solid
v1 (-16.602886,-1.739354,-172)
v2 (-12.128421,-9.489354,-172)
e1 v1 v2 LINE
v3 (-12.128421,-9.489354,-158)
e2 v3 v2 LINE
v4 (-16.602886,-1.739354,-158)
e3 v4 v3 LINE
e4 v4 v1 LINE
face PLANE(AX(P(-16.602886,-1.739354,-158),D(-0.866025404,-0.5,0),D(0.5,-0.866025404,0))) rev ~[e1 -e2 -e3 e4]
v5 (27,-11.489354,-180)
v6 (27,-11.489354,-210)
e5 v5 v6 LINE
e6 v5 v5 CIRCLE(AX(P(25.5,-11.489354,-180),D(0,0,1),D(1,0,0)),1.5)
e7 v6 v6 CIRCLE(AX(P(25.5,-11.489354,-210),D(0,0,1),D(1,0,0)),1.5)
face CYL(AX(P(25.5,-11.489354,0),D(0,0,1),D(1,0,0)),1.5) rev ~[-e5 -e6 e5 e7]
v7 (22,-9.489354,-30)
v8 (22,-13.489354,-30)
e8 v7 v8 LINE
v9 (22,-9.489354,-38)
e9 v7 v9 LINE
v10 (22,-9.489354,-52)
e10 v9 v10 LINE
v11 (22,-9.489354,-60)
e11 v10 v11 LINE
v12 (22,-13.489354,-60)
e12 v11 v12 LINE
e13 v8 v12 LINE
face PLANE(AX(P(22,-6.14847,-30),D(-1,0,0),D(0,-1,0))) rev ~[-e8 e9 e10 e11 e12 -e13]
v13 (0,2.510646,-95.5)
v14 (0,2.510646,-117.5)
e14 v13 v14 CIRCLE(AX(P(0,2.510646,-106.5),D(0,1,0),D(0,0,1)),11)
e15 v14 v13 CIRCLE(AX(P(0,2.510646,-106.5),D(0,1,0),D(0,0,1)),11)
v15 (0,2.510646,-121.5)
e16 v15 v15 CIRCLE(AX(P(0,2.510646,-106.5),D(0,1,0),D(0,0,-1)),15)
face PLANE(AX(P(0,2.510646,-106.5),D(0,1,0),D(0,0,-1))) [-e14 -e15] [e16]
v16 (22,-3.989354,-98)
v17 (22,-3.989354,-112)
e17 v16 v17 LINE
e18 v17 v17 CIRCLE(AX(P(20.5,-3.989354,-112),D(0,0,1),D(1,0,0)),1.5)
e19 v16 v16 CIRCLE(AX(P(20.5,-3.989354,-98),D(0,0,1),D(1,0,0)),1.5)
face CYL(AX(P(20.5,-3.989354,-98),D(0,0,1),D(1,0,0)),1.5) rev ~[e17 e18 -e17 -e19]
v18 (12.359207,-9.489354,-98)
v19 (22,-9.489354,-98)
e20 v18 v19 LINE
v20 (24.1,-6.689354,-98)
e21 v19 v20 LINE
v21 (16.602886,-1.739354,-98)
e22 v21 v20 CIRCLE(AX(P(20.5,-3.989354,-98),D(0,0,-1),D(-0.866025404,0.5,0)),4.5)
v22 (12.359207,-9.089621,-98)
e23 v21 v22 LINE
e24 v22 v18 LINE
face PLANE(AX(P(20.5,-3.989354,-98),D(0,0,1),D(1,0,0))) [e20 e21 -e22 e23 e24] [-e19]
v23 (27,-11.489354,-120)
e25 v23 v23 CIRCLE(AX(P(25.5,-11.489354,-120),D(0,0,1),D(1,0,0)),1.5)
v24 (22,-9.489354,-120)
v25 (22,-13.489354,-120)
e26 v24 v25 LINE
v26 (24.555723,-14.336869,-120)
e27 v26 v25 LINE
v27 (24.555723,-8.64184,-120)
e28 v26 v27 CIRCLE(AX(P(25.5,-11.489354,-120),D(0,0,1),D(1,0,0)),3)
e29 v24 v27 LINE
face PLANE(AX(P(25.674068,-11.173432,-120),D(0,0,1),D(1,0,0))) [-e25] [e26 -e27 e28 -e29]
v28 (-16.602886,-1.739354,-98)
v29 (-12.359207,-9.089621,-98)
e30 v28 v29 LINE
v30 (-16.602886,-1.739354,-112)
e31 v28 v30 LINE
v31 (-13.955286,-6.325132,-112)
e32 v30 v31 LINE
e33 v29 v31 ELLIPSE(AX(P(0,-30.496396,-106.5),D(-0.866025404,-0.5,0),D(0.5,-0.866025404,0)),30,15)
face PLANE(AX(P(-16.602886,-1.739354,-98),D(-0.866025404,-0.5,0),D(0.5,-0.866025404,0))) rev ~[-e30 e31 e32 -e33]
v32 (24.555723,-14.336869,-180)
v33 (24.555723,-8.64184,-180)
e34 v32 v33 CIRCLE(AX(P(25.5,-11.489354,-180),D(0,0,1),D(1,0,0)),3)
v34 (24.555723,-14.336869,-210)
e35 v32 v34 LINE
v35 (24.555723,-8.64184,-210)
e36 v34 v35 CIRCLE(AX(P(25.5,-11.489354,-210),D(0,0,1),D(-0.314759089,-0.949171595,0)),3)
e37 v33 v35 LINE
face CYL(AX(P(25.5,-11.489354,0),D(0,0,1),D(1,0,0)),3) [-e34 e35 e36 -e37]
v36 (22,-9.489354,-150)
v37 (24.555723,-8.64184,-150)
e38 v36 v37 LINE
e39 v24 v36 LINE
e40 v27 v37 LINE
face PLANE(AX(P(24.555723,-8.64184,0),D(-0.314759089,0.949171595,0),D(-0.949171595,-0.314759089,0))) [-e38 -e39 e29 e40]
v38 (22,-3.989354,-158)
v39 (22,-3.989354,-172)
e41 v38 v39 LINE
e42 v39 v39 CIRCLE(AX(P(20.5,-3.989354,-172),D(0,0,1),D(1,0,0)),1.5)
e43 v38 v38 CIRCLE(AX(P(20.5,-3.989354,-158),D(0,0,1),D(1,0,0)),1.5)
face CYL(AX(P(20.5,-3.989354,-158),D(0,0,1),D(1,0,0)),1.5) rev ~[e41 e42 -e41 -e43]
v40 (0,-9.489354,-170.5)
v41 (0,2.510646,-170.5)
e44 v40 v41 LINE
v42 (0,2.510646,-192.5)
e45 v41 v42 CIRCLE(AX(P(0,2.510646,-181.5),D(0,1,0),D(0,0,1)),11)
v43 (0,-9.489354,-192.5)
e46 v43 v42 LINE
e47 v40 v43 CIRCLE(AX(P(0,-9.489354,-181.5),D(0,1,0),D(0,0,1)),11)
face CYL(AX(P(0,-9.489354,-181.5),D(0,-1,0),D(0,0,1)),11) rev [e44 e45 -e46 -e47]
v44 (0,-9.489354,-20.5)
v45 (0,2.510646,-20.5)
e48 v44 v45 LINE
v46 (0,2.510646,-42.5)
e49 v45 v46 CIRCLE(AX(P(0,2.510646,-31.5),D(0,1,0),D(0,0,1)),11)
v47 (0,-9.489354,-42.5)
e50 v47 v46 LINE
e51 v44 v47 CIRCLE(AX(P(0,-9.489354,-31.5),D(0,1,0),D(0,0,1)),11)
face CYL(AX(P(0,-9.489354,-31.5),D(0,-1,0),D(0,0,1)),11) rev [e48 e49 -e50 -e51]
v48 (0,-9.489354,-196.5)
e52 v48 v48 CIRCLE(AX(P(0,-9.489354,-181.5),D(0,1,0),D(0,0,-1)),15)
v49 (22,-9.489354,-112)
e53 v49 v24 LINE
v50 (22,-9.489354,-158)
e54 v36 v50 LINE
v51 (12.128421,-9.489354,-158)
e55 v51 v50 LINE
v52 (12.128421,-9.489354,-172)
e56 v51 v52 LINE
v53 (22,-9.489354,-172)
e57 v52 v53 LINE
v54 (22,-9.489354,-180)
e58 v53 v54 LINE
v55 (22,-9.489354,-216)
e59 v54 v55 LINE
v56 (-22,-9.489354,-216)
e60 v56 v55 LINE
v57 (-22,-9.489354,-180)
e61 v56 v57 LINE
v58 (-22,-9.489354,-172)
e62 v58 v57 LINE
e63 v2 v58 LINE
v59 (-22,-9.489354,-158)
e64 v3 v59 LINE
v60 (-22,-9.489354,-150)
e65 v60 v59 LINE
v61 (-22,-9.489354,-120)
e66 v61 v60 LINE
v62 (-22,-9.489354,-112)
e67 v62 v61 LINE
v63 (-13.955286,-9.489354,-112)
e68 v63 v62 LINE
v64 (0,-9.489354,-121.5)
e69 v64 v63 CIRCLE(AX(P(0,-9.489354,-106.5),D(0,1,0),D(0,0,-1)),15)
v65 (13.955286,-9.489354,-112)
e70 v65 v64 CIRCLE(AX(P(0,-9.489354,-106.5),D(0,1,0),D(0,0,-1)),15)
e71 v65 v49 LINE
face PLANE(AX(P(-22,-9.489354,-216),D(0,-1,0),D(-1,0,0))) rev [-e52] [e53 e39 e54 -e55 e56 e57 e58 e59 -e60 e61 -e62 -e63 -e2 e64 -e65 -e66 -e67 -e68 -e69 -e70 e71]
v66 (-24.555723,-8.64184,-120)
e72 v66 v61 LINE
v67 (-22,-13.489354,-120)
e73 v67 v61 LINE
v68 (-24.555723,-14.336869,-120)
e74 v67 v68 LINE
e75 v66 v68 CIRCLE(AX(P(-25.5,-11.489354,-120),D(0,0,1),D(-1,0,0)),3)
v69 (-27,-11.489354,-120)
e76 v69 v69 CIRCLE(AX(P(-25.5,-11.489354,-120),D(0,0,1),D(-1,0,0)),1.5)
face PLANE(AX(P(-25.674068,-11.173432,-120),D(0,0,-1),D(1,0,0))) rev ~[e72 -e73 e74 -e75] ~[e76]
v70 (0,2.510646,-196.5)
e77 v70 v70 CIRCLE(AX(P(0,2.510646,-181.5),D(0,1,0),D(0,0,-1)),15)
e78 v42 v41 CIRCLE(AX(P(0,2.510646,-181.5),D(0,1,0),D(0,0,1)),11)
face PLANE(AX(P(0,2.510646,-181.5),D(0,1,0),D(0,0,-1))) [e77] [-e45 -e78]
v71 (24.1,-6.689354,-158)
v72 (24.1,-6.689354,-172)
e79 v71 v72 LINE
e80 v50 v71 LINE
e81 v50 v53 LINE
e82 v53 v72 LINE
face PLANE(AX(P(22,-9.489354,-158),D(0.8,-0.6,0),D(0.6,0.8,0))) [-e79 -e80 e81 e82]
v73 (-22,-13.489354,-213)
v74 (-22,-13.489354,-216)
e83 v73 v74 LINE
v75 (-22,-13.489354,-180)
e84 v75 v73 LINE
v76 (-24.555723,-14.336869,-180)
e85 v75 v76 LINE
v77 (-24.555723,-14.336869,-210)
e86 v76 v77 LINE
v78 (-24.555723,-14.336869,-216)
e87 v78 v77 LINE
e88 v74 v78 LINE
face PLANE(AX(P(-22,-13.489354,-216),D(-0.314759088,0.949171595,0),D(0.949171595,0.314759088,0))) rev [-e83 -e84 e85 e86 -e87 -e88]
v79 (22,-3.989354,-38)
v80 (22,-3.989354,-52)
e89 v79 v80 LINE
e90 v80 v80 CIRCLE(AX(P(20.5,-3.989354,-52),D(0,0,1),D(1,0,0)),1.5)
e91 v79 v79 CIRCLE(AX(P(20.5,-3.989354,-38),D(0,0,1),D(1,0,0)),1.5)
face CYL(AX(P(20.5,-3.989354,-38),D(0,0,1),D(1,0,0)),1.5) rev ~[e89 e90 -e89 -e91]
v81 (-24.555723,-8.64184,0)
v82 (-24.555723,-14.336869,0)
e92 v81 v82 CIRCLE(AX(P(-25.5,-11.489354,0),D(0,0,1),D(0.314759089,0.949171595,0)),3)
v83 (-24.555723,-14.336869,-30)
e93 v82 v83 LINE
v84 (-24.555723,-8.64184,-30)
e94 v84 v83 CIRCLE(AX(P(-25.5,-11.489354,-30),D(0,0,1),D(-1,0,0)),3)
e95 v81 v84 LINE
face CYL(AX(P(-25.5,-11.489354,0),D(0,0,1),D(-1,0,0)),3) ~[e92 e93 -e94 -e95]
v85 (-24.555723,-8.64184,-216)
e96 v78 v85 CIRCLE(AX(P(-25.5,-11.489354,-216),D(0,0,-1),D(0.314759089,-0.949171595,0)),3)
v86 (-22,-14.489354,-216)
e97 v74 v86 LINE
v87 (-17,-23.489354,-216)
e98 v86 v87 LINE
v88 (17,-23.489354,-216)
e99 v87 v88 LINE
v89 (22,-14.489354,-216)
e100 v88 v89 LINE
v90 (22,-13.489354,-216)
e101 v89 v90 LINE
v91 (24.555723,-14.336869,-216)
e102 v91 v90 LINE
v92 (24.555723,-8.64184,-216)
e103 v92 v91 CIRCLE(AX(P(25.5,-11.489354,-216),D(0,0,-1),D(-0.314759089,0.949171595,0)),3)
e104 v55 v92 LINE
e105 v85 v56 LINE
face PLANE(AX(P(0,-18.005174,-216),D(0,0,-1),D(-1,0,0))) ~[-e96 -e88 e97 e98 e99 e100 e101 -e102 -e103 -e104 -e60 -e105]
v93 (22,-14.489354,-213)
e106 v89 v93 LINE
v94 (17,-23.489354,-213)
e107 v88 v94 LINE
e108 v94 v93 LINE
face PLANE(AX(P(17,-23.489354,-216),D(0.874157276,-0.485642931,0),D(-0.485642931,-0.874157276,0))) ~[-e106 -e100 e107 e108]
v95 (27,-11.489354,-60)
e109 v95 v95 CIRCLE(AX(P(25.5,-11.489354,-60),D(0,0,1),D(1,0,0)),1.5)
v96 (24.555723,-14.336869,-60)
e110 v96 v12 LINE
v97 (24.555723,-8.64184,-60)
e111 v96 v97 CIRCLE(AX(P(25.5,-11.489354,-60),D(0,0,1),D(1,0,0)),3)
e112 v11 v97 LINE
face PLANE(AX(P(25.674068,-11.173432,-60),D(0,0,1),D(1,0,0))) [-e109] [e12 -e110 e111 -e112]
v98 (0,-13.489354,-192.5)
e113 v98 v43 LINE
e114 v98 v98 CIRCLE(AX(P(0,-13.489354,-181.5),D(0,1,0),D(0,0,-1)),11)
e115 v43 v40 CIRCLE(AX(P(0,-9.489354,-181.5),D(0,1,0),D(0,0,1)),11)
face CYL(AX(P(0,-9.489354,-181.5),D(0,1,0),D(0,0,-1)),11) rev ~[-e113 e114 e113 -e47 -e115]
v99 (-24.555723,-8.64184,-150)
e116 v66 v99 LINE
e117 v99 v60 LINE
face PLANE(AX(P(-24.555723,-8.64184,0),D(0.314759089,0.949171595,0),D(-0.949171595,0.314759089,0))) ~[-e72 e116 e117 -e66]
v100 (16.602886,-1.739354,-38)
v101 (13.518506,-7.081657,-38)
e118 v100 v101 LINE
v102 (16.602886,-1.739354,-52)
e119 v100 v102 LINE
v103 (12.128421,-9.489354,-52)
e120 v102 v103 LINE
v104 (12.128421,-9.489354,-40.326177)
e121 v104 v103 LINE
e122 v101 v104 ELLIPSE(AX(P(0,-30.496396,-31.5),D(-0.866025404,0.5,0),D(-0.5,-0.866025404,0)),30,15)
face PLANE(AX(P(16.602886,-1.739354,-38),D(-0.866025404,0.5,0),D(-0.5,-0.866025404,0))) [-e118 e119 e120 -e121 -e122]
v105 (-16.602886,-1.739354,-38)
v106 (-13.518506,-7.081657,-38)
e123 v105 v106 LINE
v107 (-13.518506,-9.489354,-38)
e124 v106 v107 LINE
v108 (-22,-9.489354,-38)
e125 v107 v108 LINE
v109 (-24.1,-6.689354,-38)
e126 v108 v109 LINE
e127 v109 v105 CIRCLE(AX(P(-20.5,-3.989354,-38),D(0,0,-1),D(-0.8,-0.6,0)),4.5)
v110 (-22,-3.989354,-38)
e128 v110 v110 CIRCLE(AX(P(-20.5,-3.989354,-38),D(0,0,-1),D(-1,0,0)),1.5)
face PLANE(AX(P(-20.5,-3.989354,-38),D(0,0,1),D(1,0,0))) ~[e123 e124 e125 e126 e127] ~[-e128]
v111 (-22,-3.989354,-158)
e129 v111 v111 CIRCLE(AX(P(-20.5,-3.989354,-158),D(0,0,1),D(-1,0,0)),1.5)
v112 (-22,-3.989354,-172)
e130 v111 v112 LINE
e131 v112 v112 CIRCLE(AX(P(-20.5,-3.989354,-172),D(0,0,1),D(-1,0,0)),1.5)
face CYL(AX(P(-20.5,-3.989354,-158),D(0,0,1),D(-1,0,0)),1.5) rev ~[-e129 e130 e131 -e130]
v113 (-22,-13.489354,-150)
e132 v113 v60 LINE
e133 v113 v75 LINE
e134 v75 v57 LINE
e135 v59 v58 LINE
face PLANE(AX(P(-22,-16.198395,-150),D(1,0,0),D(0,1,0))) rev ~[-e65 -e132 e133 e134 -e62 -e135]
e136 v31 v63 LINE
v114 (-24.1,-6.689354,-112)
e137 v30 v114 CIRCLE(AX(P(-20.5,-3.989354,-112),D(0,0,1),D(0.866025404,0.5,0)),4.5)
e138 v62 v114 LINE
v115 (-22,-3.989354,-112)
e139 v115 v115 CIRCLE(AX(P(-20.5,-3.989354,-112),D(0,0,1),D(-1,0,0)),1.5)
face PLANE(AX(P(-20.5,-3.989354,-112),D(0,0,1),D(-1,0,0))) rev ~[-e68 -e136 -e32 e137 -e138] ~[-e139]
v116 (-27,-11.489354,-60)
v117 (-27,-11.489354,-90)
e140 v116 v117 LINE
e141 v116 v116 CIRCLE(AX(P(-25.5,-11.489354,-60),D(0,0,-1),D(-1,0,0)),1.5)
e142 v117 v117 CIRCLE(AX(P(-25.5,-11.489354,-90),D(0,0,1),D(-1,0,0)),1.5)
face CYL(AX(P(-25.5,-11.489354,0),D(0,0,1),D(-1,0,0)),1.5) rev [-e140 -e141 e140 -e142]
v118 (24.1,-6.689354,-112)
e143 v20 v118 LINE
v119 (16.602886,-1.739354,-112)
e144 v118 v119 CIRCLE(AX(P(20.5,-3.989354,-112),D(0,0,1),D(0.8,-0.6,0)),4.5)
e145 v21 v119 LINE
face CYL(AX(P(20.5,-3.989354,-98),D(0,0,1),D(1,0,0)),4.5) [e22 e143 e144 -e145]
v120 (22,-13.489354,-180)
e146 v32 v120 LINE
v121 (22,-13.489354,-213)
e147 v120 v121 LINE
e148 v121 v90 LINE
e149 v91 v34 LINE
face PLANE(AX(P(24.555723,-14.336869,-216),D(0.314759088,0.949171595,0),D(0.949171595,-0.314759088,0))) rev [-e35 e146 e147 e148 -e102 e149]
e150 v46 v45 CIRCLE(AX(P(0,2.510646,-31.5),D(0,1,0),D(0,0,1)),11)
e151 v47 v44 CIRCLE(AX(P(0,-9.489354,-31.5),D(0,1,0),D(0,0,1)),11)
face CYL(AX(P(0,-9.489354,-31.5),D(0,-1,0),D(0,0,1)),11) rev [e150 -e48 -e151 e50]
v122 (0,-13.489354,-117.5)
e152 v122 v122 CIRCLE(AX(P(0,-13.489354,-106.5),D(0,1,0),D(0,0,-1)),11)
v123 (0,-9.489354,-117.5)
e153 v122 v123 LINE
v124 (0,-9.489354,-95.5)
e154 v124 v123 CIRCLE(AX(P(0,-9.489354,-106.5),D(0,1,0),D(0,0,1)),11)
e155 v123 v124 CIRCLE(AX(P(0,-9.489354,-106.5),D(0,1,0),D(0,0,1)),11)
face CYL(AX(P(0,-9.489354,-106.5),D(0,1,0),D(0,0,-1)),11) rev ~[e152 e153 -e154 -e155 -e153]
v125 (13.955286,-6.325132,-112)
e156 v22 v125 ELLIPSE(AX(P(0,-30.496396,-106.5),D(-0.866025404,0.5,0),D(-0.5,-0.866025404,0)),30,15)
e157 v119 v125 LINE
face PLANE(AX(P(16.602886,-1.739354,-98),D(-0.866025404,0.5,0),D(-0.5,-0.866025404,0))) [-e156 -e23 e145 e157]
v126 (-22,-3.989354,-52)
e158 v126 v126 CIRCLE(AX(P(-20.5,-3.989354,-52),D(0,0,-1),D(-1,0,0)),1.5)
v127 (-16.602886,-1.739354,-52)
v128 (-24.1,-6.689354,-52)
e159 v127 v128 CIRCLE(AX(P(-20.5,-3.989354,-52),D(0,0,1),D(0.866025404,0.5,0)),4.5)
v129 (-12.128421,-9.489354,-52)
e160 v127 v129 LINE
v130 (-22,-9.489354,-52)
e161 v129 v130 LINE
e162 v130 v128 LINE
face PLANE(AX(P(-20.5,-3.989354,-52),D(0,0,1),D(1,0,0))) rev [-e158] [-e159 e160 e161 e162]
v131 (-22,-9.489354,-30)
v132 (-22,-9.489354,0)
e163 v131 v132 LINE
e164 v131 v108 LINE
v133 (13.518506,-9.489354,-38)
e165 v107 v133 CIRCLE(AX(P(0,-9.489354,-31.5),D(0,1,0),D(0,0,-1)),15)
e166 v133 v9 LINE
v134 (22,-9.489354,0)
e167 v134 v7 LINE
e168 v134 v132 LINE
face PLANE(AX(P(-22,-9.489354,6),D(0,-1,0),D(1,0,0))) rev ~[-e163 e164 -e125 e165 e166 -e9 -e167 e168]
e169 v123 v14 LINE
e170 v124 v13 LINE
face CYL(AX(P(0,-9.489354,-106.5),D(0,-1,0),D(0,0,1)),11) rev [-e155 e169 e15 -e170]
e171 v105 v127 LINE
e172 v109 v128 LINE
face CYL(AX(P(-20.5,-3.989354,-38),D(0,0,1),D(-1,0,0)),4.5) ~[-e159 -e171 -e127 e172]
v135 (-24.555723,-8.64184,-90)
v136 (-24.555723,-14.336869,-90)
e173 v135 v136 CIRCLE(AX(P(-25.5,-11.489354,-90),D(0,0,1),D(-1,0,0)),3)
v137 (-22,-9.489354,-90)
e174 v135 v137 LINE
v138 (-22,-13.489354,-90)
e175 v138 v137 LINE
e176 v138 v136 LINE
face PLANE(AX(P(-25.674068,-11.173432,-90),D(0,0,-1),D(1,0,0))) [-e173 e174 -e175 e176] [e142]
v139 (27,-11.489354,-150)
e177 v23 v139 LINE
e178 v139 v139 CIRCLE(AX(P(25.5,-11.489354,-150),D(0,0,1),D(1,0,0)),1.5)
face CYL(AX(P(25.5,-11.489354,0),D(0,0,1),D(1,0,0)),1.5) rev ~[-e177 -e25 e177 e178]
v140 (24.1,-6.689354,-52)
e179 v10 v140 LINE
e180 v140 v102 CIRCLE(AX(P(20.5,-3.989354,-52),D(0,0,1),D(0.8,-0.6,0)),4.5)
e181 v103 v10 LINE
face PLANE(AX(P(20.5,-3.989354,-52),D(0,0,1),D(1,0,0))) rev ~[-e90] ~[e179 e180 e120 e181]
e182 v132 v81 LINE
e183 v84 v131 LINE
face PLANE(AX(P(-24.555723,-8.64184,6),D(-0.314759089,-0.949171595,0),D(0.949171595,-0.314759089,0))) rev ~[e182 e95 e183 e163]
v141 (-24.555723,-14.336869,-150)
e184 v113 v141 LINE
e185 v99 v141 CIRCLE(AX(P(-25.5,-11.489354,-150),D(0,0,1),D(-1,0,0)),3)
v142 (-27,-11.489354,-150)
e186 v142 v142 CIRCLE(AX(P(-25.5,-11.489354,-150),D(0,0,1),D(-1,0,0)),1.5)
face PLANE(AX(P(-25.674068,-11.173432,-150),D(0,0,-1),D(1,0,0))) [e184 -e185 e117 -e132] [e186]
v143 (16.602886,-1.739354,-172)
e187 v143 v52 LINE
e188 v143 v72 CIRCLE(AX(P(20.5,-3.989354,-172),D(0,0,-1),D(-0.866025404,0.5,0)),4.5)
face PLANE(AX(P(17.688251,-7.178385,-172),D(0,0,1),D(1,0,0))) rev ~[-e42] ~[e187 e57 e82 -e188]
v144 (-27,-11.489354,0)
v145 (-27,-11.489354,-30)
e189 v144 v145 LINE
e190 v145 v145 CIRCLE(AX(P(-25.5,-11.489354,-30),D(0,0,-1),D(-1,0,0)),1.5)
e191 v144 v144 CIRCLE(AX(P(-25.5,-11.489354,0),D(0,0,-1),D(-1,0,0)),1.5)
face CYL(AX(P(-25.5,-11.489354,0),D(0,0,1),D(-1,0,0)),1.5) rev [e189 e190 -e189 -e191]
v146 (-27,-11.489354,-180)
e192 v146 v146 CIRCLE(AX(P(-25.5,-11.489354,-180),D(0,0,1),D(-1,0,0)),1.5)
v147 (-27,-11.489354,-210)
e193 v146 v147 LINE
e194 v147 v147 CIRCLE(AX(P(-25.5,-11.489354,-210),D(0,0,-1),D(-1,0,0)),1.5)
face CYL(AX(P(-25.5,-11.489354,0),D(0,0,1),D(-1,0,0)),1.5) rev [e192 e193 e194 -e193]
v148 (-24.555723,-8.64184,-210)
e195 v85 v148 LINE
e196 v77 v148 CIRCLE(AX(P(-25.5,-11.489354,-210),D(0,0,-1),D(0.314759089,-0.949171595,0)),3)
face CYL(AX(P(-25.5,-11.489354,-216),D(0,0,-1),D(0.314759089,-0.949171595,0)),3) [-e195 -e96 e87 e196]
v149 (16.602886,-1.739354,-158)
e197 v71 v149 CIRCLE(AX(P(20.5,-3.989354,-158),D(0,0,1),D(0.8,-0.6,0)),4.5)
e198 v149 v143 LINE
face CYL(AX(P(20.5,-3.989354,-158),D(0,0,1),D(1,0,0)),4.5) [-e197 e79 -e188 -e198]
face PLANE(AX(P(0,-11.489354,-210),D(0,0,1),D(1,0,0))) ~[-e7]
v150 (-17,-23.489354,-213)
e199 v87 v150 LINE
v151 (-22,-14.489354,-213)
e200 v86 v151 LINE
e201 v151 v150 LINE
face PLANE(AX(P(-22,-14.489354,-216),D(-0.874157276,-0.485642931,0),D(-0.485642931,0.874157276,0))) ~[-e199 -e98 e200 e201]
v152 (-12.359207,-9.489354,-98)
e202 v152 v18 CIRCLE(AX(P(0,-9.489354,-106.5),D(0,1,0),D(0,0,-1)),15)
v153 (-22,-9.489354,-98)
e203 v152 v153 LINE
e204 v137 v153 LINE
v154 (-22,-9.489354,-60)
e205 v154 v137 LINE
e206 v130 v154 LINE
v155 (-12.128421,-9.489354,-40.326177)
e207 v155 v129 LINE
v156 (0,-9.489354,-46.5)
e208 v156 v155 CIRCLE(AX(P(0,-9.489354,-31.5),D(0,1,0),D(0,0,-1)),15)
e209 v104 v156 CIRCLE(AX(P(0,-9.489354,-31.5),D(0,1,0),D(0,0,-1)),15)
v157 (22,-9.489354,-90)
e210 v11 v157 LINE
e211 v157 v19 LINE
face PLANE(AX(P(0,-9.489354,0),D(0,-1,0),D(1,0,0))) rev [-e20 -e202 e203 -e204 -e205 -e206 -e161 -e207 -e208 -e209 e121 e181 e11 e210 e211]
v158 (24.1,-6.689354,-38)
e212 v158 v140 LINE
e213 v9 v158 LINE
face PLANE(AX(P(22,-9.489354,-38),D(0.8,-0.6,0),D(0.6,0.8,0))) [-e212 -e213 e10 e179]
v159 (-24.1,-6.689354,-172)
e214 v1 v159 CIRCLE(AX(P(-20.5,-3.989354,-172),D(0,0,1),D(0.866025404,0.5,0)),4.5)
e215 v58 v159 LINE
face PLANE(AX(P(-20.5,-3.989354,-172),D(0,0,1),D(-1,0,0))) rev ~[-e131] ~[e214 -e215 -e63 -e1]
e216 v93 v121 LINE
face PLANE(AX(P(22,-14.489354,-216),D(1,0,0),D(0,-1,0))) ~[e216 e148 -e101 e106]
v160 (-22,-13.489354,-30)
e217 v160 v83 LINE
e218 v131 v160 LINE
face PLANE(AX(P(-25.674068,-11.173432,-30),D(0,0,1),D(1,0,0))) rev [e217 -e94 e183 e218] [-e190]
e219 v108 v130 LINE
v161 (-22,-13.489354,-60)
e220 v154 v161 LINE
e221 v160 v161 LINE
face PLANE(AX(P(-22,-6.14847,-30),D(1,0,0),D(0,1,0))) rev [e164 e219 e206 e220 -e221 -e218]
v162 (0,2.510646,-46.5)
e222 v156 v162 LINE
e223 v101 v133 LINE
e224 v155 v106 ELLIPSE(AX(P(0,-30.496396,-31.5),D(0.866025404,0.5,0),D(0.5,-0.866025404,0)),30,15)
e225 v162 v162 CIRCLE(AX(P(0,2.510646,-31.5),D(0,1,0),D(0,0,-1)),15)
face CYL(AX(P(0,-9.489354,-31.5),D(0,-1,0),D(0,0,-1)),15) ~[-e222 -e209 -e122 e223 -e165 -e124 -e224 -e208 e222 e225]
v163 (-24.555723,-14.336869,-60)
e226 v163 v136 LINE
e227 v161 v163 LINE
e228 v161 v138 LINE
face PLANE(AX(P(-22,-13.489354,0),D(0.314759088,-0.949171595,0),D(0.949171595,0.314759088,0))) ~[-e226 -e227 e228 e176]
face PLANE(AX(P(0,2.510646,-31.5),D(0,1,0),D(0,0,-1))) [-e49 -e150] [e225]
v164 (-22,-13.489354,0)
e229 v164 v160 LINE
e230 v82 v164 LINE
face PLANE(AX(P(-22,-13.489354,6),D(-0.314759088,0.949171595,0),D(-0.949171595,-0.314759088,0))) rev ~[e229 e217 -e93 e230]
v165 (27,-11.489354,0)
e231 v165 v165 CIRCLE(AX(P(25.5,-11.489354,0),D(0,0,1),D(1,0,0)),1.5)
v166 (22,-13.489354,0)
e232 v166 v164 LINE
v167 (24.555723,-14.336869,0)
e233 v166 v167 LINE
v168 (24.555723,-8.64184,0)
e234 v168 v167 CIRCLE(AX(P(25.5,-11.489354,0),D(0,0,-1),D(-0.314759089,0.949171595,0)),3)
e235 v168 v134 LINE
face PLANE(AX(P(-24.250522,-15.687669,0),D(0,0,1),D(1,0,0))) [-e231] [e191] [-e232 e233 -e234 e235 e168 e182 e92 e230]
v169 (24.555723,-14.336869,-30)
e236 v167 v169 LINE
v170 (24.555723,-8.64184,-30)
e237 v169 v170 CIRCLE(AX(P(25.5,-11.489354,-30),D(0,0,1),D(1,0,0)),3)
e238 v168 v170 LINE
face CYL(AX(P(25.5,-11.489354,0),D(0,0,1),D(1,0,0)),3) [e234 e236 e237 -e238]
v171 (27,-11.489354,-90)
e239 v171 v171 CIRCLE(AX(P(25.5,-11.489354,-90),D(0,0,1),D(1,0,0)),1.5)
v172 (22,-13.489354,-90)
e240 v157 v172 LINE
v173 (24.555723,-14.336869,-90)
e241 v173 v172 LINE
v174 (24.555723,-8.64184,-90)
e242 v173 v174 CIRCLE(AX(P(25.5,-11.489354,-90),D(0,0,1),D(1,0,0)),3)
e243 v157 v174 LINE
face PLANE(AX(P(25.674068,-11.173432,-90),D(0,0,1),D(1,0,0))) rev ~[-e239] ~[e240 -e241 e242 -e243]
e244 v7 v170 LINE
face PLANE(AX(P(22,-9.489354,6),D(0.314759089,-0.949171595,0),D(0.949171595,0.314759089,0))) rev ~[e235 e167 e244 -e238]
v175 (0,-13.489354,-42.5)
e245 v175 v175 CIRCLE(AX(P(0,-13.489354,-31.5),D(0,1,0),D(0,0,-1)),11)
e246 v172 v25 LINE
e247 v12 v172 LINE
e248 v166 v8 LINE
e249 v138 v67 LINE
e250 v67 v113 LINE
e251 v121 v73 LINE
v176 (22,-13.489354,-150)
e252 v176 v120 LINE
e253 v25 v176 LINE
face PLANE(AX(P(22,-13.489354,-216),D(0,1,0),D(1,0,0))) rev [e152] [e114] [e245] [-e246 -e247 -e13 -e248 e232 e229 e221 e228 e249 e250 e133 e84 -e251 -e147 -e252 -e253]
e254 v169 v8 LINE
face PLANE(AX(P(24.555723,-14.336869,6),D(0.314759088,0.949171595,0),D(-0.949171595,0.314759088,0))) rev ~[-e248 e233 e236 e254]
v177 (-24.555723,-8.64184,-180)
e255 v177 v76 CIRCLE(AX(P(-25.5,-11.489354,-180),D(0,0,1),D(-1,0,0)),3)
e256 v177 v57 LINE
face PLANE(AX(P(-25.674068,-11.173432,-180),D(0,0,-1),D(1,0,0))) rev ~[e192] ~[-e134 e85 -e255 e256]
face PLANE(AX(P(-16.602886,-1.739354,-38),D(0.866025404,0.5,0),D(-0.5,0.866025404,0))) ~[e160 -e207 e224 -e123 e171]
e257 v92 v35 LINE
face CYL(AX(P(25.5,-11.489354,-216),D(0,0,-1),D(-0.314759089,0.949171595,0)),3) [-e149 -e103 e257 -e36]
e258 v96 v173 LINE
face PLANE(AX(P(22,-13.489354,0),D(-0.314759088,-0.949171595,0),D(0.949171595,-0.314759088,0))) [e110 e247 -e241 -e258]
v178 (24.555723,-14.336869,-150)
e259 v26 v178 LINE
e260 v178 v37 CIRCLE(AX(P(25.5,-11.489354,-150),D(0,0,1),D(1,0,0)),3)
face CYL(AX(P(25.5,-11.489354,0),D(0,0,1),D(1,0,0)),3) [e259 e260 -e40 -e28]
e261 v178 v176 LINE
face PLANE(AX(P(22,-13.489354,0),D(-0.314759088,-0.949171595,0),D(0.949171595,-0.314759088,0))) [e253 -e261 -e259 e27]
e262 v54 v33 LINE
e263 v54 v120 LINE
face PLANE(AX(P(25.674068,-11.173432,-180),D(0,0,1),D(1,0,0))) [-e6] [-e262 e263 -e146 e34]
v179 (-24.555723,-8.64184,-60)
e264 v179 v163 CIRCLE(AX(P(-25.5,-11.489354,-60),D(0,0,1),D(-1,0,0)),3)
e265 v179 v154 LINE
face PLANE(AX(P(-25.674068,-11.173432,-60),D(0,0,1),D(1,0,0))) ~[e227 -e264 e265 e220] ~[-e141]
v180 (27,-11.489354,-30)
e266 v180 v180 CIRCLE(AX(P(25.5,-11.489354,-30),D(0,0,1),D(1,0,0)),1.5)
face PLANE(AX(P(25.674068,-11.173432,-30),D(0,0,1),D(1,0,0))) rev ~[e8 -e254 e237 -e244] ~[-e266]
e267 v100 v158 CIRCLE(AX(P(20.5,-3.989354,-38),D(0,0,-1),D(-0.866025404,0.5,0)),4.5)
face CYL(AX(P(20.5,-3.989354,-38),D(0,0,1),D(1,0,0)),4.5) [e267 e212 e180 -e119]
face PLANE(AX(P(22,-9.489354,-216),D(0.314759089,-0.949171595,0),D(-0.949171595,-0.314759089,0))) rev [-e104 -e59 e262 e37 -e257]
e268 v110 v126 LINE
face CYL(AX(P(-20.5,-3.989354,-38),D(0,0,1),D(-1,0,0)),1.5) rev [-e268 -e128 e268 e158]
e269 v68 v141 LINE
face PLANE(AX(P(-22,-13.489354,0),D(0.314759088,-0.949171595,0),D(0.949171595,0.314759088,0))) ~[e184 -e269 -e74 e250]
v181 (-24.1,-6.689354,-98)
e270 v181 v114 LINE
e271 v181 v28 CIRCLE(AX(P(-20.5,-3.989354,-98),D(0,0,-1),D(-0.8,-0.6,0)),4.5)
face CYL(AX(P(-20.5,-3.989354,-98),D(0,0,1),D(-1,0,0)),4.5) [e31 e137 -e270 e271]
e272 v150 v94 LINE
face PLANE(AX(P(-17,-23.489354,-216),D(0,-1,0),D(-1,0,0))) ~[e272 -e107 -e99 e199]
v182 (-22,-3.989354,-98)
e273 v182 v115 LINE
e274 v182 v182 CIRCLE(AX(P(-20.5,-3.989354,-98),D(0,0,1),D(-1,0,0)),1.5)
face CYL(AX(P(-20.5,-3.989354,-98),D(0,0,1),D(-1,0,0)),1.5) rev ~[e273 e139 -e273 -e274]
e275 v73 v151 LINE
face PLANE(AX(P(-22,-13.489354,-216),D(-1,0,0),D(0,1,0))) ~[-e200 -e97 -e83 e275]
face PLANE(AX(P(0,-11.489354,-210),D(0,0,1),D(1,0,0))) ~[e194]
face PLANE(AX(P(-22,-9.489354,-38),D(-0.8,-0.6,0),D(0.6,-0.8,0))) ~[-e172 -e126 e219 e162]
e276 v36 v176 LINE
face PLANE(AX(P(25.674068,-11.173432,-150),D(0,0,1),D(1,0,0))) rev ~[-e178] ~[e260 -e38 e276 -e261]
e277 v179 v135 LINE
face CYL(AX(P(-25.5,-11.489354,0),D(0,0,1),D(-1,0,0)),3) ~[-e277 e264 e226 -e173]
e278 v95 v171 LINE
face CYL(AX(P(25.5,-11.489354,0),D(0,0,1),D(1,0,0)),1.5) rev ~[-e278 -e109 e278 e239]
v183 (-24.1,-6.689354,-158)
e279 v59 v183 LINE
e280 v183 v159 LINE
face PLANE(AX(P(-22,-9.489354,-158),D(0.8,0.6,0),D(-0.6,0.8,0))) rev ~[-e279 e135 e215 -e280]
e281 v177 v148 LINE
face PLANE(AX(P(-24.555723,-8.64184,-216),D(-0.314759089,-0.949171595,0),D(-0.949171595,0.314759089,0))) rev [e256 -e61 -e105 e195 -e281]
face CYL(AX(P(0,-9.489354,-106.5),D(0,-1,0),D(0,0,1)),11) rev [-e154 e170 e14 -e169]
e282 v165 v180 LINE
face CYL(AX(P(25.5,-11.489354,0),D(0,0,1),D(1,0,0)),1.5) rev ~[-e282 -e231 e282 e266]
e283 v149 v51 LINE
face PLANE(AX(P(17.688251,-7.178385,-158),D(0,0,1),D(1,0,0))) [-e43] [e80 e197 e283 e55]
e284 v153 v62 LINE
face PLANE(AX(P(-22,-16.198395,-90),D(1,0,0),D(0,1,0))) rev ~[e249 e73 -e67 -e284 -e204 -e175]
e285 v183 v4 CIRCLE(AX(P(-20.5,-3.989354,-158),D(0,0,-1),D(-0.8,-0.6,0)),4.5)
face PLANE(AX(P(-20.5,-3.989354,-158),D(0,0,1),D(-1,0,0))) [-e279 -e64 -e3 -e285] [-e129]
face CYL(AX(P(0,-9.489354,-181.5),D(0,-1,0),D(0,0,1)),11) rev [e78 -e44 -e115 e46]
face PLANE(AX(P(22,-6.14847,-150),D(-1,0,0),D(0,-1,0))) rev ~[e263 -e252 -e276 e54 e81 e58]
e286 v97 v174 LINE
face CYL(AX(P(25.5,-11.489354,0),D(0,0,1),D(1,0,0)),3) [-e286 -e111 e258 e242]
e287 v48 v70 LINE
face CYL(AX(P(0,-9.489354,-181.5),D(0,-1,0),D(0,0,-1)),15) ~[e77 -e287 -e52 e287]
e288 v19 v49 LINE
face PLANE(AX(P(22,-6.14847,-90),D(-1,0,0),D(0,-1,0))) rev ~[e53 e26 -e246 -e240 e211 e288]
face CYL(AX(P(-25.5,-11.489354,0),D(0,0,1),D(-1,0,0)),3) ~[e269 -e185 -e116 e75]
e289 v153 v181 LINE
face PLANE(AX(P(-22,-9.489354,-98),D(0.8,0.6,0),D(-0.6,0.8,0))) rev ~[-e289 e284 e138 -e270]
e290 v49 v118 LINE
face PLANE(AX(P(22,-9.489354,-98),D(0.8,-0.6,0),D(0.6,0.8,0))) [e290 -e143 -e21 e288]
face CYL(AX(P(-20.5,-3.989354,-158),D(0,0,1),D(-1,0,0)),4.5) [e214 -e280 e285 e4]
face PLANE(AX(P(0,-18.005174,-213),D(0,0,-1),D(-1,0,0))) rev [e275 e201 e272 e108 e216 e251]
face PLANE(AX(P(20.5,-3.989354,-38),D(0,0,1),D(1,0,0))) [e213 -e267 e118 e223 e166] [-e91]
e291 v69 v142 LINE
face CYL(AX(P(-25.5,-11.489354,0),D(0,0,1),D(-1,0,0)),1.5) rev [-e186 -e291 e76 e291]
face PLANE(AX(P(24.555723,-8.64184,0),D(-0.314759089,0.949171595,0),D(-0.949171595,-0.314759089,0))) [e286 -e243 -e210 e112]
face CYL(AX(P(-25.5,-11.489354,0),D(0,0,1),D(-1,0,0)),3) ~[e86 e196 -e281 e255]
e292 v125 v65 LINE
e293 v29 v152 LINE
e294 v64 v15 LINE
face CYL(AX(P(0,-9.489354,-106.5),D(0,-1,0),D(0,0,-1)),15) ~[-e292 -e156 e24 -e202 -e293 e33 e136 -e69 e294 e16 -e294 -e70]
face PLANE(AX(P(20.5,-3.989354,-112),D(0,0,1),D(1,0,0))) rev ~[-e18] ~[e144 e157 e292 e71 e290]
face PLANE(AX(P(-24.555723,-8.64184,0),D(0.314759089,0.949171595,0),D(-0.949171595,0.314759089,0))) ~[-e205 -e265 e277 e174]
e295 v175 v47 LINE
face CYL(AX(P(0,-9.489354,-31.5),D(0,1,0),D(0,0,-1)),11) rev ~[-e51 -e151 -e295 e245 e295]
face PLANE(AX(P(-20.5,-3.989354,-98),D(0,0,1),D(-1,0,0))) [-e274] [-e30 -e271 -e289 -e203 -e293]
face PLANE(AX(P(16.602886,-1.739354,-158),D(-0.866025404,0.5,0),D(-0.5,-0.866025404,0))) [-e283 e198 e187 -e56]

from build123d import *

# Parameters (mm, degrees)
SKETCH1_W                 = 22
SKETCH1_H                 = 4
SKETCH1_R                 = 3
SKETCH1_R_2               = 1.5
BOSS_EXTRUDE1_DEPTH       = 210
SKETCH2_R                 = 1.5
CUT_EXTRUDE2_DEPTH        = 30
LPATTERN1_COUNT           = 3
LPATTERN1_PITCH           = 60
SKETCH5_R                 = 4.5
SKETCH5_R_2               = 1.5
BOSS_EXTRUDE2_DEPTH       = 14
LPATTERN2_COUNT           = 3
LPATTERN2_PITCH           = 60
MIRROR3_COPY_1_SKETCH_R   = 1.5
MIRROR3_COPY_1_DEPTH      = 30
MIRROR3_COPY_2_SKETCH_R   = 1.5
MIRROR3_COPY_2_DEPTH      = 30
MIRROR3_COPY_3_SKETCH_R   = 4.5
MIRROR3_COPY_3_SKETCH_R_2 = 1.5
MIRROR3_COPY_3_DEPTH      = 14
MIRROR3_COPY_4_SKETCH_R   = 4.5
MIRROR3_COPY_4_SKETCH_R_2 = 1.5
MIRROR3_COPY_4_DEPTH      = 14
SKETCH6_R                 = 15
SKETCH6_R_2               = 11
BOSS_EXTRUDE3_DEPTH       = 12
SKETCH9_R                 = 11
CUT_EXTRUDE4_DEPTH        = 40.5
LPATTERN4_COUNT           = 3
LPATTERN4_PITCH           = 75
LPATTERN5_COUNT           = 3
LPATTERN5_PITCH           = 75
BOSS_EXTRUDE4_START       = 6
BOSS_EXTRUDE4_DEPTH       = 6
BOSS_EXTRUDE5_DEPTH       = 3
SKETCH20_W                = 171.257053273
SKETCH20_H                = 66.541862684
CUT_EXTRUDE7_DEPTH        = 6


with BuildPart() as part:
    # Sketch1 → Boss-Extrude1 (new body)
    # profile 1 of 3: a face of its own
    with BuildSketch(Plane.XY):
        with Locations((11, -11.489354466)):
            Rectangle(SKETCH1_W, SKETCH1_H)
    # profile 2 of 3: a face of its own
    with BuildSketch(Plane.XY):
        with BuildLine():
            Line((24.555722734, -8.641839682), (22, -9.489354466))
            Line((22, -9.489354466), (22, -13.489354466))
            Line((22, -13.489354466), (24.555722734, -14.336869249))
            ThreePointArc((24.555722734, -14.336869249), (22.5, -11.489354466), (24.555722734, -8.641839682))
        make_face()
    # profile 3 of 3: a face of its own
    with BuildSketch(Plane.XY):
        with Locations((25.5, -11.489354466)):
            Circle(SKETCH1_R)
        with Locations((25.5, -11.489354466)):
            Circle(SKETCH1_R_2, mode=Mode.SUBTRACT)
    boss_extrude1 = extrude(amount=-BOSS_EXTRUDE1_DEPTH)

    # Sketch2 → Cut-Extrude2 (cut)
    with BuildSketch(Plane.XY.offset(-30)):
        Polygon((22, -6.148469854), (22, -9.489354466), (22, -13.489354466), (22, -16.198394767), (29.348135307, -16.198394767), (29.348135307, -6.148469854), align=None)
        with Locations((25.5, -11.489354466)):
            Circle(SKETCH2_R, mode=Mode.SUBTRACT)
    cut_extrude2 = extrude(amount=-CUT_EXTRUDE2_DEPTH, mode=Mode.SUBTRACT)

    # LPattern1: Cut-Extrude2 ×3
    with Locations(*[(0, 0, -i * LPATTERN1_PITCH) for i in range(1, LPATTERN1_COUNT)]):
        add(cut_extrude2, mode=Mode.SUBTRACT)

    # Sketch5 → Boss-Extrude2 (add)
    # profile 1 of 2: a face of its own
    with BuildSketch(Plane.XY.offset(-38)):
        with BuildLine():
            ThreePointArc((24.1, -6.689354466), (18.020545578, -7.744658151), (16.602885683, -1.739354466))
            Line((16.602885683, -1.739354466), (12.128421097, -9.489354466))
            Line((12.128421097, -9.489354466), (22, -9.489354466))
            Line((22, -9.489354466), (24.1, -6.689354466))
        make_face()
    # profile 2 of 2: a face of its own
    with BuildSketch(Plane.XY.offset(-38)):
        with Locations((20.5, -3.989354466)):
            Circle(SKETCH5_R)
        with Locations((20.5, -3.989354466)):
            Circle(SKETCH5_R_2, mode=Mode.SUBTRACT)
    boss_extrude2 = extrude(amount=-BOSS_EXTRUDE2_DEPTH)

    # LPattern2: Boss-Extrude2 ×3
    with Locations(*[(0, 0, -i * LPATTERN2_PITCH) for i in range(1, LPATTERN2_COUNT)]):
        add(boss_extrude2)

    # Mirror3: Boss-Extrude1, Cut-Extrude2, Boss-Extrude2 across plane
    add(boss_extrude1.mirror(Plane(origin=(0, 0, -210), x_dir=(0, 0, 1), z_dir=(-1, 0, 0))))
    add(cut_extrude2.mirror(Plane(origin=(0, 0, -210), x_dir=(0, 0, 1), z_dir=(-1, 0, 0))), mode=Mode.SUBTRACT)
    add(boss_extrude2.mirror(Plane(origin=(0, 0, -210), x_dir=(0, 0, 1), z_dir=(-1, 0, 0))))

    # Mirror3 copy 1 sketch → Mirror3 copy 1 (cut)
    with BuildSketch(Plane(origin=(0, 0, -90), x_dir=(-1, 0, 0), z_dir=(0, 0, 1))):
        Polygon((22, 6.148469854), (22, 9.489354466), (22, 13.489354466), (22, 16.198394767), (29.348135307, 16.198394767), (29.348135307, 6.148469854), align=None)
        with Locations((25.5, 11.489354466)):
            Circle(MIRROR3_COPY_1_SKETCH_R, mode=Mode.SUBTRACT)
    extrude(amount=-MIRROR3_COPY_1_DEPTH, mode=Mode.SUBTRACT)

    # Mirror3 copy 2 sketch → Mirror3 copy 2 (cut)
    with BuildSketch(Plane(origin=(0, 0, -150), x_dir=(-1, 0, 0), z_dir=(0, 0, 1))):
        Polygon((22, 6.148469854), (22, 9.489354466), (22, 13.489354466), (22, 16.198394767), (29.348135307, 16.198394767), (29.348135307, 6.148469854), align=None)
        with Locations((25.5, 11.489354466)):
            Circle(MIRROR3_COPY_2_SKETCH_R, mode=Mode.SUBTRACT)
    extrude(amount=-MIRROR3_COPY_2_DEPTH, mode=Mode.SUBTRACT)

    # Mirror3 copy 3 sketch → Mirror3 copy 3 (add)
    # profile 1 of 2: a face of its own
    with BuildSketch(Plane(origin=(0, 0, -98), x_dir=(-1, 0, 0), z_dir=(0, 0, 1))):
        with BuildLine():
            ThreePointArc((24.1, 6.689354466), (18.020545578, 7.744658151), (16.602885683, 1.739354466))
            Line((16.602885683, 1.739354466), (12.128421097, 9.489354466))
            Line((12.128421097, 9.489354466), (22, 9.489354466))
            Line((22, 9.489354466), (24.1, 6.689354466))
        make_face()
    # profile 2 of 2: a face of its own
    with BuildSketch(Plane(origin=(0, 0, -98), x_dir=(-1, 0, 0), z_dir=(0, 0, 1))):
        with Locations((20.5, 3.989354466)):
            Circle(MIRROR3_COPY_3_SKETCH_R)
        with Locations((20.5, 3.989354466)):
            Circle(MIRROR3_COPY_3_SKETCH_R_2, mode=Mode.SUBTRACT)
    extrude(amount=-MIRROR3_COPY_3_DEPTH)

    # Mirror3 copy 4 sketch → Mirror3 copy 4 (add)
    # profile 1 of 2: a face of its own
    with BuildSketch(Plane(origin=(0, 0, -158), x_dir=(-1, 0, 0), z_dir=(0, 0, 1))):
        with BuildLine():
            ThreePointArc((24.1, 6.689354466), (18.020545578, 7.744658151), (16.602885683, 1.739354466))
            Line((16.602885683, 1.739354466), (12.128421097, 9.489354466))
            Line((12.128421097, 9.489354466), (22, 9.489354466))
            Line((22, 9.489354466), (24.1, 6.689354466))
        make_face()
    # profile 2 of 2: a face of its own
    with BuildSketch(Plane(origin=(0, 0, -158), x_dir=(-1, 0, 0), z_dir=(0, 0, 1))):
        with Locations((20.5, 3.989354466)):
            Circle(MIRROR3_COPY_4_SKETCH_R)
        with Locations((20.5, 3.989354466)):
            Circle(MIRROR3_COPY_4_SKETCH_R_2, mode=Mode.SUBTRACT)
    extrude(amount=-MIRROR3_COPY_4_DEPTH)

    # Sketch6 → Boss-Extrude3 (add)
    with BuildSketch(Plane(origin=(0, -9.489354466, 0), x_dir=(1, 0, 0), z_dir=(0, 1, 0))):
        with Locations(Location((0, 181.5, 0), (0, 0, 90))):
            Circle(SKETCH6_R)
        with Locations(Location((0, 181.5, 0), (0, 0, 270))):
            Circle(SKETCH6_R_2, mode=Mode.SUBTRACT)
    boss_extrude3 = extrude(amount=BOSS_EXTRUDE3_DEPTH)

    # Sketch9 → Cut-Extrude4 (cut, symmetric)
    with BuildSketch(Plane(origin=(0, -9.489354466, 0), x_dir=(1, 0, 0), z_dir=(0, 1, 0))):
        with Locations(Location((0, 181.5, 0), (0, 0, 90))):
            Circle(SKETCH9_R)
    cut_extrude4 = extrude(amount=CUT_EXTRUDE4_DEPTH, both=True, mode=Mode.SUBTRACT)

    # LPattern4: Boss-Extrude3 ×3
    with Locations(*[(0, 0, i * LPATTERN4_PITCH) for i in range(1, LPATTERN4_COUNT)]):
        add(boss_extrude3)

    # LPattern5: Cut-Extrude4 ×3
    with Locations(*[(0, 0, i * LPATTERN5_PITCH) for i in range(1, LPATTERN5_COUNT)]):
        add(cut_extrude4, mode=Mode.SUBTRACT)

    # Sketch15 → Boss-Extrude4 (add)
    with BuildSketch(Plane.XY.offset(BOSS_EXTRUDE4_START)):
        with BuildLine():
            Line((-22, -9.489354466), (22, -9.489354466))
            Line((22, -9.489354466), (24.555722734, -8.641839682))
            ThreePointArc((24.555722734, -8.641839682), (28.5, -11.489354466), (24.555722734, -14.336869249))
            Line((24.555722734, -14.336869249), (22, -13.489354466))
            Line((22, -13.489354466), (-22, -13.489354466))
            Line((-22, -13.489354466), (-24.555722734, -14.336869249))
            ThreePointArc((-24.555722734, -14.336869249), (-28.5, -11.489354466), (-24.555722734, -8.641839682))
            Line((-24.555722734, -8.641839682), (-22, -9.489354466))
        make_face()
    boss_extrude4 = extrude(amount=-BOSS_EXTRUDE4_DEPTH)

    # Sketch16 → Boss-Extrude5 (add)
    with BuildSketch(Plane.XY.offset(6)):
        Polygon((-22, -13.489354466), (-22, -14.489354466), (-17, -23.489354466), (17, -23.489354466), (22, -14.489354466), (22, -13.489354466), align=None)
    boss_extrude5 = extrude(amount=-BOSS_EXTRUDE5_DEPTH)

    # Mirror6: Boss-Extrude4, Boss-Extrude5 across plane
    add(boss_extrude4.mirror(Plane(origin=(0, 0, -105), x_dir=(1, 0, 0), z_dir=(0, 0, -1))))
    add(boss_extrude5.mirror(Plane(origin=(0, 0, -105), x_dir=(1, 0, 0), z_dir=(0, 0, -1))))

    # Sketch20 → Cut-Extrude7 (cut)
    with BuildSketch(Plane.XY.offset(6)):
        with Locations((-24.250521665, -15.687669002)):
            Rectangle(SKETCH20_W, SKETCH20_H)
    extrude(amount=-CUT_EXTRUDE7_DEPTH, mode=Mode.SUBTRACT)


solid = part.part
